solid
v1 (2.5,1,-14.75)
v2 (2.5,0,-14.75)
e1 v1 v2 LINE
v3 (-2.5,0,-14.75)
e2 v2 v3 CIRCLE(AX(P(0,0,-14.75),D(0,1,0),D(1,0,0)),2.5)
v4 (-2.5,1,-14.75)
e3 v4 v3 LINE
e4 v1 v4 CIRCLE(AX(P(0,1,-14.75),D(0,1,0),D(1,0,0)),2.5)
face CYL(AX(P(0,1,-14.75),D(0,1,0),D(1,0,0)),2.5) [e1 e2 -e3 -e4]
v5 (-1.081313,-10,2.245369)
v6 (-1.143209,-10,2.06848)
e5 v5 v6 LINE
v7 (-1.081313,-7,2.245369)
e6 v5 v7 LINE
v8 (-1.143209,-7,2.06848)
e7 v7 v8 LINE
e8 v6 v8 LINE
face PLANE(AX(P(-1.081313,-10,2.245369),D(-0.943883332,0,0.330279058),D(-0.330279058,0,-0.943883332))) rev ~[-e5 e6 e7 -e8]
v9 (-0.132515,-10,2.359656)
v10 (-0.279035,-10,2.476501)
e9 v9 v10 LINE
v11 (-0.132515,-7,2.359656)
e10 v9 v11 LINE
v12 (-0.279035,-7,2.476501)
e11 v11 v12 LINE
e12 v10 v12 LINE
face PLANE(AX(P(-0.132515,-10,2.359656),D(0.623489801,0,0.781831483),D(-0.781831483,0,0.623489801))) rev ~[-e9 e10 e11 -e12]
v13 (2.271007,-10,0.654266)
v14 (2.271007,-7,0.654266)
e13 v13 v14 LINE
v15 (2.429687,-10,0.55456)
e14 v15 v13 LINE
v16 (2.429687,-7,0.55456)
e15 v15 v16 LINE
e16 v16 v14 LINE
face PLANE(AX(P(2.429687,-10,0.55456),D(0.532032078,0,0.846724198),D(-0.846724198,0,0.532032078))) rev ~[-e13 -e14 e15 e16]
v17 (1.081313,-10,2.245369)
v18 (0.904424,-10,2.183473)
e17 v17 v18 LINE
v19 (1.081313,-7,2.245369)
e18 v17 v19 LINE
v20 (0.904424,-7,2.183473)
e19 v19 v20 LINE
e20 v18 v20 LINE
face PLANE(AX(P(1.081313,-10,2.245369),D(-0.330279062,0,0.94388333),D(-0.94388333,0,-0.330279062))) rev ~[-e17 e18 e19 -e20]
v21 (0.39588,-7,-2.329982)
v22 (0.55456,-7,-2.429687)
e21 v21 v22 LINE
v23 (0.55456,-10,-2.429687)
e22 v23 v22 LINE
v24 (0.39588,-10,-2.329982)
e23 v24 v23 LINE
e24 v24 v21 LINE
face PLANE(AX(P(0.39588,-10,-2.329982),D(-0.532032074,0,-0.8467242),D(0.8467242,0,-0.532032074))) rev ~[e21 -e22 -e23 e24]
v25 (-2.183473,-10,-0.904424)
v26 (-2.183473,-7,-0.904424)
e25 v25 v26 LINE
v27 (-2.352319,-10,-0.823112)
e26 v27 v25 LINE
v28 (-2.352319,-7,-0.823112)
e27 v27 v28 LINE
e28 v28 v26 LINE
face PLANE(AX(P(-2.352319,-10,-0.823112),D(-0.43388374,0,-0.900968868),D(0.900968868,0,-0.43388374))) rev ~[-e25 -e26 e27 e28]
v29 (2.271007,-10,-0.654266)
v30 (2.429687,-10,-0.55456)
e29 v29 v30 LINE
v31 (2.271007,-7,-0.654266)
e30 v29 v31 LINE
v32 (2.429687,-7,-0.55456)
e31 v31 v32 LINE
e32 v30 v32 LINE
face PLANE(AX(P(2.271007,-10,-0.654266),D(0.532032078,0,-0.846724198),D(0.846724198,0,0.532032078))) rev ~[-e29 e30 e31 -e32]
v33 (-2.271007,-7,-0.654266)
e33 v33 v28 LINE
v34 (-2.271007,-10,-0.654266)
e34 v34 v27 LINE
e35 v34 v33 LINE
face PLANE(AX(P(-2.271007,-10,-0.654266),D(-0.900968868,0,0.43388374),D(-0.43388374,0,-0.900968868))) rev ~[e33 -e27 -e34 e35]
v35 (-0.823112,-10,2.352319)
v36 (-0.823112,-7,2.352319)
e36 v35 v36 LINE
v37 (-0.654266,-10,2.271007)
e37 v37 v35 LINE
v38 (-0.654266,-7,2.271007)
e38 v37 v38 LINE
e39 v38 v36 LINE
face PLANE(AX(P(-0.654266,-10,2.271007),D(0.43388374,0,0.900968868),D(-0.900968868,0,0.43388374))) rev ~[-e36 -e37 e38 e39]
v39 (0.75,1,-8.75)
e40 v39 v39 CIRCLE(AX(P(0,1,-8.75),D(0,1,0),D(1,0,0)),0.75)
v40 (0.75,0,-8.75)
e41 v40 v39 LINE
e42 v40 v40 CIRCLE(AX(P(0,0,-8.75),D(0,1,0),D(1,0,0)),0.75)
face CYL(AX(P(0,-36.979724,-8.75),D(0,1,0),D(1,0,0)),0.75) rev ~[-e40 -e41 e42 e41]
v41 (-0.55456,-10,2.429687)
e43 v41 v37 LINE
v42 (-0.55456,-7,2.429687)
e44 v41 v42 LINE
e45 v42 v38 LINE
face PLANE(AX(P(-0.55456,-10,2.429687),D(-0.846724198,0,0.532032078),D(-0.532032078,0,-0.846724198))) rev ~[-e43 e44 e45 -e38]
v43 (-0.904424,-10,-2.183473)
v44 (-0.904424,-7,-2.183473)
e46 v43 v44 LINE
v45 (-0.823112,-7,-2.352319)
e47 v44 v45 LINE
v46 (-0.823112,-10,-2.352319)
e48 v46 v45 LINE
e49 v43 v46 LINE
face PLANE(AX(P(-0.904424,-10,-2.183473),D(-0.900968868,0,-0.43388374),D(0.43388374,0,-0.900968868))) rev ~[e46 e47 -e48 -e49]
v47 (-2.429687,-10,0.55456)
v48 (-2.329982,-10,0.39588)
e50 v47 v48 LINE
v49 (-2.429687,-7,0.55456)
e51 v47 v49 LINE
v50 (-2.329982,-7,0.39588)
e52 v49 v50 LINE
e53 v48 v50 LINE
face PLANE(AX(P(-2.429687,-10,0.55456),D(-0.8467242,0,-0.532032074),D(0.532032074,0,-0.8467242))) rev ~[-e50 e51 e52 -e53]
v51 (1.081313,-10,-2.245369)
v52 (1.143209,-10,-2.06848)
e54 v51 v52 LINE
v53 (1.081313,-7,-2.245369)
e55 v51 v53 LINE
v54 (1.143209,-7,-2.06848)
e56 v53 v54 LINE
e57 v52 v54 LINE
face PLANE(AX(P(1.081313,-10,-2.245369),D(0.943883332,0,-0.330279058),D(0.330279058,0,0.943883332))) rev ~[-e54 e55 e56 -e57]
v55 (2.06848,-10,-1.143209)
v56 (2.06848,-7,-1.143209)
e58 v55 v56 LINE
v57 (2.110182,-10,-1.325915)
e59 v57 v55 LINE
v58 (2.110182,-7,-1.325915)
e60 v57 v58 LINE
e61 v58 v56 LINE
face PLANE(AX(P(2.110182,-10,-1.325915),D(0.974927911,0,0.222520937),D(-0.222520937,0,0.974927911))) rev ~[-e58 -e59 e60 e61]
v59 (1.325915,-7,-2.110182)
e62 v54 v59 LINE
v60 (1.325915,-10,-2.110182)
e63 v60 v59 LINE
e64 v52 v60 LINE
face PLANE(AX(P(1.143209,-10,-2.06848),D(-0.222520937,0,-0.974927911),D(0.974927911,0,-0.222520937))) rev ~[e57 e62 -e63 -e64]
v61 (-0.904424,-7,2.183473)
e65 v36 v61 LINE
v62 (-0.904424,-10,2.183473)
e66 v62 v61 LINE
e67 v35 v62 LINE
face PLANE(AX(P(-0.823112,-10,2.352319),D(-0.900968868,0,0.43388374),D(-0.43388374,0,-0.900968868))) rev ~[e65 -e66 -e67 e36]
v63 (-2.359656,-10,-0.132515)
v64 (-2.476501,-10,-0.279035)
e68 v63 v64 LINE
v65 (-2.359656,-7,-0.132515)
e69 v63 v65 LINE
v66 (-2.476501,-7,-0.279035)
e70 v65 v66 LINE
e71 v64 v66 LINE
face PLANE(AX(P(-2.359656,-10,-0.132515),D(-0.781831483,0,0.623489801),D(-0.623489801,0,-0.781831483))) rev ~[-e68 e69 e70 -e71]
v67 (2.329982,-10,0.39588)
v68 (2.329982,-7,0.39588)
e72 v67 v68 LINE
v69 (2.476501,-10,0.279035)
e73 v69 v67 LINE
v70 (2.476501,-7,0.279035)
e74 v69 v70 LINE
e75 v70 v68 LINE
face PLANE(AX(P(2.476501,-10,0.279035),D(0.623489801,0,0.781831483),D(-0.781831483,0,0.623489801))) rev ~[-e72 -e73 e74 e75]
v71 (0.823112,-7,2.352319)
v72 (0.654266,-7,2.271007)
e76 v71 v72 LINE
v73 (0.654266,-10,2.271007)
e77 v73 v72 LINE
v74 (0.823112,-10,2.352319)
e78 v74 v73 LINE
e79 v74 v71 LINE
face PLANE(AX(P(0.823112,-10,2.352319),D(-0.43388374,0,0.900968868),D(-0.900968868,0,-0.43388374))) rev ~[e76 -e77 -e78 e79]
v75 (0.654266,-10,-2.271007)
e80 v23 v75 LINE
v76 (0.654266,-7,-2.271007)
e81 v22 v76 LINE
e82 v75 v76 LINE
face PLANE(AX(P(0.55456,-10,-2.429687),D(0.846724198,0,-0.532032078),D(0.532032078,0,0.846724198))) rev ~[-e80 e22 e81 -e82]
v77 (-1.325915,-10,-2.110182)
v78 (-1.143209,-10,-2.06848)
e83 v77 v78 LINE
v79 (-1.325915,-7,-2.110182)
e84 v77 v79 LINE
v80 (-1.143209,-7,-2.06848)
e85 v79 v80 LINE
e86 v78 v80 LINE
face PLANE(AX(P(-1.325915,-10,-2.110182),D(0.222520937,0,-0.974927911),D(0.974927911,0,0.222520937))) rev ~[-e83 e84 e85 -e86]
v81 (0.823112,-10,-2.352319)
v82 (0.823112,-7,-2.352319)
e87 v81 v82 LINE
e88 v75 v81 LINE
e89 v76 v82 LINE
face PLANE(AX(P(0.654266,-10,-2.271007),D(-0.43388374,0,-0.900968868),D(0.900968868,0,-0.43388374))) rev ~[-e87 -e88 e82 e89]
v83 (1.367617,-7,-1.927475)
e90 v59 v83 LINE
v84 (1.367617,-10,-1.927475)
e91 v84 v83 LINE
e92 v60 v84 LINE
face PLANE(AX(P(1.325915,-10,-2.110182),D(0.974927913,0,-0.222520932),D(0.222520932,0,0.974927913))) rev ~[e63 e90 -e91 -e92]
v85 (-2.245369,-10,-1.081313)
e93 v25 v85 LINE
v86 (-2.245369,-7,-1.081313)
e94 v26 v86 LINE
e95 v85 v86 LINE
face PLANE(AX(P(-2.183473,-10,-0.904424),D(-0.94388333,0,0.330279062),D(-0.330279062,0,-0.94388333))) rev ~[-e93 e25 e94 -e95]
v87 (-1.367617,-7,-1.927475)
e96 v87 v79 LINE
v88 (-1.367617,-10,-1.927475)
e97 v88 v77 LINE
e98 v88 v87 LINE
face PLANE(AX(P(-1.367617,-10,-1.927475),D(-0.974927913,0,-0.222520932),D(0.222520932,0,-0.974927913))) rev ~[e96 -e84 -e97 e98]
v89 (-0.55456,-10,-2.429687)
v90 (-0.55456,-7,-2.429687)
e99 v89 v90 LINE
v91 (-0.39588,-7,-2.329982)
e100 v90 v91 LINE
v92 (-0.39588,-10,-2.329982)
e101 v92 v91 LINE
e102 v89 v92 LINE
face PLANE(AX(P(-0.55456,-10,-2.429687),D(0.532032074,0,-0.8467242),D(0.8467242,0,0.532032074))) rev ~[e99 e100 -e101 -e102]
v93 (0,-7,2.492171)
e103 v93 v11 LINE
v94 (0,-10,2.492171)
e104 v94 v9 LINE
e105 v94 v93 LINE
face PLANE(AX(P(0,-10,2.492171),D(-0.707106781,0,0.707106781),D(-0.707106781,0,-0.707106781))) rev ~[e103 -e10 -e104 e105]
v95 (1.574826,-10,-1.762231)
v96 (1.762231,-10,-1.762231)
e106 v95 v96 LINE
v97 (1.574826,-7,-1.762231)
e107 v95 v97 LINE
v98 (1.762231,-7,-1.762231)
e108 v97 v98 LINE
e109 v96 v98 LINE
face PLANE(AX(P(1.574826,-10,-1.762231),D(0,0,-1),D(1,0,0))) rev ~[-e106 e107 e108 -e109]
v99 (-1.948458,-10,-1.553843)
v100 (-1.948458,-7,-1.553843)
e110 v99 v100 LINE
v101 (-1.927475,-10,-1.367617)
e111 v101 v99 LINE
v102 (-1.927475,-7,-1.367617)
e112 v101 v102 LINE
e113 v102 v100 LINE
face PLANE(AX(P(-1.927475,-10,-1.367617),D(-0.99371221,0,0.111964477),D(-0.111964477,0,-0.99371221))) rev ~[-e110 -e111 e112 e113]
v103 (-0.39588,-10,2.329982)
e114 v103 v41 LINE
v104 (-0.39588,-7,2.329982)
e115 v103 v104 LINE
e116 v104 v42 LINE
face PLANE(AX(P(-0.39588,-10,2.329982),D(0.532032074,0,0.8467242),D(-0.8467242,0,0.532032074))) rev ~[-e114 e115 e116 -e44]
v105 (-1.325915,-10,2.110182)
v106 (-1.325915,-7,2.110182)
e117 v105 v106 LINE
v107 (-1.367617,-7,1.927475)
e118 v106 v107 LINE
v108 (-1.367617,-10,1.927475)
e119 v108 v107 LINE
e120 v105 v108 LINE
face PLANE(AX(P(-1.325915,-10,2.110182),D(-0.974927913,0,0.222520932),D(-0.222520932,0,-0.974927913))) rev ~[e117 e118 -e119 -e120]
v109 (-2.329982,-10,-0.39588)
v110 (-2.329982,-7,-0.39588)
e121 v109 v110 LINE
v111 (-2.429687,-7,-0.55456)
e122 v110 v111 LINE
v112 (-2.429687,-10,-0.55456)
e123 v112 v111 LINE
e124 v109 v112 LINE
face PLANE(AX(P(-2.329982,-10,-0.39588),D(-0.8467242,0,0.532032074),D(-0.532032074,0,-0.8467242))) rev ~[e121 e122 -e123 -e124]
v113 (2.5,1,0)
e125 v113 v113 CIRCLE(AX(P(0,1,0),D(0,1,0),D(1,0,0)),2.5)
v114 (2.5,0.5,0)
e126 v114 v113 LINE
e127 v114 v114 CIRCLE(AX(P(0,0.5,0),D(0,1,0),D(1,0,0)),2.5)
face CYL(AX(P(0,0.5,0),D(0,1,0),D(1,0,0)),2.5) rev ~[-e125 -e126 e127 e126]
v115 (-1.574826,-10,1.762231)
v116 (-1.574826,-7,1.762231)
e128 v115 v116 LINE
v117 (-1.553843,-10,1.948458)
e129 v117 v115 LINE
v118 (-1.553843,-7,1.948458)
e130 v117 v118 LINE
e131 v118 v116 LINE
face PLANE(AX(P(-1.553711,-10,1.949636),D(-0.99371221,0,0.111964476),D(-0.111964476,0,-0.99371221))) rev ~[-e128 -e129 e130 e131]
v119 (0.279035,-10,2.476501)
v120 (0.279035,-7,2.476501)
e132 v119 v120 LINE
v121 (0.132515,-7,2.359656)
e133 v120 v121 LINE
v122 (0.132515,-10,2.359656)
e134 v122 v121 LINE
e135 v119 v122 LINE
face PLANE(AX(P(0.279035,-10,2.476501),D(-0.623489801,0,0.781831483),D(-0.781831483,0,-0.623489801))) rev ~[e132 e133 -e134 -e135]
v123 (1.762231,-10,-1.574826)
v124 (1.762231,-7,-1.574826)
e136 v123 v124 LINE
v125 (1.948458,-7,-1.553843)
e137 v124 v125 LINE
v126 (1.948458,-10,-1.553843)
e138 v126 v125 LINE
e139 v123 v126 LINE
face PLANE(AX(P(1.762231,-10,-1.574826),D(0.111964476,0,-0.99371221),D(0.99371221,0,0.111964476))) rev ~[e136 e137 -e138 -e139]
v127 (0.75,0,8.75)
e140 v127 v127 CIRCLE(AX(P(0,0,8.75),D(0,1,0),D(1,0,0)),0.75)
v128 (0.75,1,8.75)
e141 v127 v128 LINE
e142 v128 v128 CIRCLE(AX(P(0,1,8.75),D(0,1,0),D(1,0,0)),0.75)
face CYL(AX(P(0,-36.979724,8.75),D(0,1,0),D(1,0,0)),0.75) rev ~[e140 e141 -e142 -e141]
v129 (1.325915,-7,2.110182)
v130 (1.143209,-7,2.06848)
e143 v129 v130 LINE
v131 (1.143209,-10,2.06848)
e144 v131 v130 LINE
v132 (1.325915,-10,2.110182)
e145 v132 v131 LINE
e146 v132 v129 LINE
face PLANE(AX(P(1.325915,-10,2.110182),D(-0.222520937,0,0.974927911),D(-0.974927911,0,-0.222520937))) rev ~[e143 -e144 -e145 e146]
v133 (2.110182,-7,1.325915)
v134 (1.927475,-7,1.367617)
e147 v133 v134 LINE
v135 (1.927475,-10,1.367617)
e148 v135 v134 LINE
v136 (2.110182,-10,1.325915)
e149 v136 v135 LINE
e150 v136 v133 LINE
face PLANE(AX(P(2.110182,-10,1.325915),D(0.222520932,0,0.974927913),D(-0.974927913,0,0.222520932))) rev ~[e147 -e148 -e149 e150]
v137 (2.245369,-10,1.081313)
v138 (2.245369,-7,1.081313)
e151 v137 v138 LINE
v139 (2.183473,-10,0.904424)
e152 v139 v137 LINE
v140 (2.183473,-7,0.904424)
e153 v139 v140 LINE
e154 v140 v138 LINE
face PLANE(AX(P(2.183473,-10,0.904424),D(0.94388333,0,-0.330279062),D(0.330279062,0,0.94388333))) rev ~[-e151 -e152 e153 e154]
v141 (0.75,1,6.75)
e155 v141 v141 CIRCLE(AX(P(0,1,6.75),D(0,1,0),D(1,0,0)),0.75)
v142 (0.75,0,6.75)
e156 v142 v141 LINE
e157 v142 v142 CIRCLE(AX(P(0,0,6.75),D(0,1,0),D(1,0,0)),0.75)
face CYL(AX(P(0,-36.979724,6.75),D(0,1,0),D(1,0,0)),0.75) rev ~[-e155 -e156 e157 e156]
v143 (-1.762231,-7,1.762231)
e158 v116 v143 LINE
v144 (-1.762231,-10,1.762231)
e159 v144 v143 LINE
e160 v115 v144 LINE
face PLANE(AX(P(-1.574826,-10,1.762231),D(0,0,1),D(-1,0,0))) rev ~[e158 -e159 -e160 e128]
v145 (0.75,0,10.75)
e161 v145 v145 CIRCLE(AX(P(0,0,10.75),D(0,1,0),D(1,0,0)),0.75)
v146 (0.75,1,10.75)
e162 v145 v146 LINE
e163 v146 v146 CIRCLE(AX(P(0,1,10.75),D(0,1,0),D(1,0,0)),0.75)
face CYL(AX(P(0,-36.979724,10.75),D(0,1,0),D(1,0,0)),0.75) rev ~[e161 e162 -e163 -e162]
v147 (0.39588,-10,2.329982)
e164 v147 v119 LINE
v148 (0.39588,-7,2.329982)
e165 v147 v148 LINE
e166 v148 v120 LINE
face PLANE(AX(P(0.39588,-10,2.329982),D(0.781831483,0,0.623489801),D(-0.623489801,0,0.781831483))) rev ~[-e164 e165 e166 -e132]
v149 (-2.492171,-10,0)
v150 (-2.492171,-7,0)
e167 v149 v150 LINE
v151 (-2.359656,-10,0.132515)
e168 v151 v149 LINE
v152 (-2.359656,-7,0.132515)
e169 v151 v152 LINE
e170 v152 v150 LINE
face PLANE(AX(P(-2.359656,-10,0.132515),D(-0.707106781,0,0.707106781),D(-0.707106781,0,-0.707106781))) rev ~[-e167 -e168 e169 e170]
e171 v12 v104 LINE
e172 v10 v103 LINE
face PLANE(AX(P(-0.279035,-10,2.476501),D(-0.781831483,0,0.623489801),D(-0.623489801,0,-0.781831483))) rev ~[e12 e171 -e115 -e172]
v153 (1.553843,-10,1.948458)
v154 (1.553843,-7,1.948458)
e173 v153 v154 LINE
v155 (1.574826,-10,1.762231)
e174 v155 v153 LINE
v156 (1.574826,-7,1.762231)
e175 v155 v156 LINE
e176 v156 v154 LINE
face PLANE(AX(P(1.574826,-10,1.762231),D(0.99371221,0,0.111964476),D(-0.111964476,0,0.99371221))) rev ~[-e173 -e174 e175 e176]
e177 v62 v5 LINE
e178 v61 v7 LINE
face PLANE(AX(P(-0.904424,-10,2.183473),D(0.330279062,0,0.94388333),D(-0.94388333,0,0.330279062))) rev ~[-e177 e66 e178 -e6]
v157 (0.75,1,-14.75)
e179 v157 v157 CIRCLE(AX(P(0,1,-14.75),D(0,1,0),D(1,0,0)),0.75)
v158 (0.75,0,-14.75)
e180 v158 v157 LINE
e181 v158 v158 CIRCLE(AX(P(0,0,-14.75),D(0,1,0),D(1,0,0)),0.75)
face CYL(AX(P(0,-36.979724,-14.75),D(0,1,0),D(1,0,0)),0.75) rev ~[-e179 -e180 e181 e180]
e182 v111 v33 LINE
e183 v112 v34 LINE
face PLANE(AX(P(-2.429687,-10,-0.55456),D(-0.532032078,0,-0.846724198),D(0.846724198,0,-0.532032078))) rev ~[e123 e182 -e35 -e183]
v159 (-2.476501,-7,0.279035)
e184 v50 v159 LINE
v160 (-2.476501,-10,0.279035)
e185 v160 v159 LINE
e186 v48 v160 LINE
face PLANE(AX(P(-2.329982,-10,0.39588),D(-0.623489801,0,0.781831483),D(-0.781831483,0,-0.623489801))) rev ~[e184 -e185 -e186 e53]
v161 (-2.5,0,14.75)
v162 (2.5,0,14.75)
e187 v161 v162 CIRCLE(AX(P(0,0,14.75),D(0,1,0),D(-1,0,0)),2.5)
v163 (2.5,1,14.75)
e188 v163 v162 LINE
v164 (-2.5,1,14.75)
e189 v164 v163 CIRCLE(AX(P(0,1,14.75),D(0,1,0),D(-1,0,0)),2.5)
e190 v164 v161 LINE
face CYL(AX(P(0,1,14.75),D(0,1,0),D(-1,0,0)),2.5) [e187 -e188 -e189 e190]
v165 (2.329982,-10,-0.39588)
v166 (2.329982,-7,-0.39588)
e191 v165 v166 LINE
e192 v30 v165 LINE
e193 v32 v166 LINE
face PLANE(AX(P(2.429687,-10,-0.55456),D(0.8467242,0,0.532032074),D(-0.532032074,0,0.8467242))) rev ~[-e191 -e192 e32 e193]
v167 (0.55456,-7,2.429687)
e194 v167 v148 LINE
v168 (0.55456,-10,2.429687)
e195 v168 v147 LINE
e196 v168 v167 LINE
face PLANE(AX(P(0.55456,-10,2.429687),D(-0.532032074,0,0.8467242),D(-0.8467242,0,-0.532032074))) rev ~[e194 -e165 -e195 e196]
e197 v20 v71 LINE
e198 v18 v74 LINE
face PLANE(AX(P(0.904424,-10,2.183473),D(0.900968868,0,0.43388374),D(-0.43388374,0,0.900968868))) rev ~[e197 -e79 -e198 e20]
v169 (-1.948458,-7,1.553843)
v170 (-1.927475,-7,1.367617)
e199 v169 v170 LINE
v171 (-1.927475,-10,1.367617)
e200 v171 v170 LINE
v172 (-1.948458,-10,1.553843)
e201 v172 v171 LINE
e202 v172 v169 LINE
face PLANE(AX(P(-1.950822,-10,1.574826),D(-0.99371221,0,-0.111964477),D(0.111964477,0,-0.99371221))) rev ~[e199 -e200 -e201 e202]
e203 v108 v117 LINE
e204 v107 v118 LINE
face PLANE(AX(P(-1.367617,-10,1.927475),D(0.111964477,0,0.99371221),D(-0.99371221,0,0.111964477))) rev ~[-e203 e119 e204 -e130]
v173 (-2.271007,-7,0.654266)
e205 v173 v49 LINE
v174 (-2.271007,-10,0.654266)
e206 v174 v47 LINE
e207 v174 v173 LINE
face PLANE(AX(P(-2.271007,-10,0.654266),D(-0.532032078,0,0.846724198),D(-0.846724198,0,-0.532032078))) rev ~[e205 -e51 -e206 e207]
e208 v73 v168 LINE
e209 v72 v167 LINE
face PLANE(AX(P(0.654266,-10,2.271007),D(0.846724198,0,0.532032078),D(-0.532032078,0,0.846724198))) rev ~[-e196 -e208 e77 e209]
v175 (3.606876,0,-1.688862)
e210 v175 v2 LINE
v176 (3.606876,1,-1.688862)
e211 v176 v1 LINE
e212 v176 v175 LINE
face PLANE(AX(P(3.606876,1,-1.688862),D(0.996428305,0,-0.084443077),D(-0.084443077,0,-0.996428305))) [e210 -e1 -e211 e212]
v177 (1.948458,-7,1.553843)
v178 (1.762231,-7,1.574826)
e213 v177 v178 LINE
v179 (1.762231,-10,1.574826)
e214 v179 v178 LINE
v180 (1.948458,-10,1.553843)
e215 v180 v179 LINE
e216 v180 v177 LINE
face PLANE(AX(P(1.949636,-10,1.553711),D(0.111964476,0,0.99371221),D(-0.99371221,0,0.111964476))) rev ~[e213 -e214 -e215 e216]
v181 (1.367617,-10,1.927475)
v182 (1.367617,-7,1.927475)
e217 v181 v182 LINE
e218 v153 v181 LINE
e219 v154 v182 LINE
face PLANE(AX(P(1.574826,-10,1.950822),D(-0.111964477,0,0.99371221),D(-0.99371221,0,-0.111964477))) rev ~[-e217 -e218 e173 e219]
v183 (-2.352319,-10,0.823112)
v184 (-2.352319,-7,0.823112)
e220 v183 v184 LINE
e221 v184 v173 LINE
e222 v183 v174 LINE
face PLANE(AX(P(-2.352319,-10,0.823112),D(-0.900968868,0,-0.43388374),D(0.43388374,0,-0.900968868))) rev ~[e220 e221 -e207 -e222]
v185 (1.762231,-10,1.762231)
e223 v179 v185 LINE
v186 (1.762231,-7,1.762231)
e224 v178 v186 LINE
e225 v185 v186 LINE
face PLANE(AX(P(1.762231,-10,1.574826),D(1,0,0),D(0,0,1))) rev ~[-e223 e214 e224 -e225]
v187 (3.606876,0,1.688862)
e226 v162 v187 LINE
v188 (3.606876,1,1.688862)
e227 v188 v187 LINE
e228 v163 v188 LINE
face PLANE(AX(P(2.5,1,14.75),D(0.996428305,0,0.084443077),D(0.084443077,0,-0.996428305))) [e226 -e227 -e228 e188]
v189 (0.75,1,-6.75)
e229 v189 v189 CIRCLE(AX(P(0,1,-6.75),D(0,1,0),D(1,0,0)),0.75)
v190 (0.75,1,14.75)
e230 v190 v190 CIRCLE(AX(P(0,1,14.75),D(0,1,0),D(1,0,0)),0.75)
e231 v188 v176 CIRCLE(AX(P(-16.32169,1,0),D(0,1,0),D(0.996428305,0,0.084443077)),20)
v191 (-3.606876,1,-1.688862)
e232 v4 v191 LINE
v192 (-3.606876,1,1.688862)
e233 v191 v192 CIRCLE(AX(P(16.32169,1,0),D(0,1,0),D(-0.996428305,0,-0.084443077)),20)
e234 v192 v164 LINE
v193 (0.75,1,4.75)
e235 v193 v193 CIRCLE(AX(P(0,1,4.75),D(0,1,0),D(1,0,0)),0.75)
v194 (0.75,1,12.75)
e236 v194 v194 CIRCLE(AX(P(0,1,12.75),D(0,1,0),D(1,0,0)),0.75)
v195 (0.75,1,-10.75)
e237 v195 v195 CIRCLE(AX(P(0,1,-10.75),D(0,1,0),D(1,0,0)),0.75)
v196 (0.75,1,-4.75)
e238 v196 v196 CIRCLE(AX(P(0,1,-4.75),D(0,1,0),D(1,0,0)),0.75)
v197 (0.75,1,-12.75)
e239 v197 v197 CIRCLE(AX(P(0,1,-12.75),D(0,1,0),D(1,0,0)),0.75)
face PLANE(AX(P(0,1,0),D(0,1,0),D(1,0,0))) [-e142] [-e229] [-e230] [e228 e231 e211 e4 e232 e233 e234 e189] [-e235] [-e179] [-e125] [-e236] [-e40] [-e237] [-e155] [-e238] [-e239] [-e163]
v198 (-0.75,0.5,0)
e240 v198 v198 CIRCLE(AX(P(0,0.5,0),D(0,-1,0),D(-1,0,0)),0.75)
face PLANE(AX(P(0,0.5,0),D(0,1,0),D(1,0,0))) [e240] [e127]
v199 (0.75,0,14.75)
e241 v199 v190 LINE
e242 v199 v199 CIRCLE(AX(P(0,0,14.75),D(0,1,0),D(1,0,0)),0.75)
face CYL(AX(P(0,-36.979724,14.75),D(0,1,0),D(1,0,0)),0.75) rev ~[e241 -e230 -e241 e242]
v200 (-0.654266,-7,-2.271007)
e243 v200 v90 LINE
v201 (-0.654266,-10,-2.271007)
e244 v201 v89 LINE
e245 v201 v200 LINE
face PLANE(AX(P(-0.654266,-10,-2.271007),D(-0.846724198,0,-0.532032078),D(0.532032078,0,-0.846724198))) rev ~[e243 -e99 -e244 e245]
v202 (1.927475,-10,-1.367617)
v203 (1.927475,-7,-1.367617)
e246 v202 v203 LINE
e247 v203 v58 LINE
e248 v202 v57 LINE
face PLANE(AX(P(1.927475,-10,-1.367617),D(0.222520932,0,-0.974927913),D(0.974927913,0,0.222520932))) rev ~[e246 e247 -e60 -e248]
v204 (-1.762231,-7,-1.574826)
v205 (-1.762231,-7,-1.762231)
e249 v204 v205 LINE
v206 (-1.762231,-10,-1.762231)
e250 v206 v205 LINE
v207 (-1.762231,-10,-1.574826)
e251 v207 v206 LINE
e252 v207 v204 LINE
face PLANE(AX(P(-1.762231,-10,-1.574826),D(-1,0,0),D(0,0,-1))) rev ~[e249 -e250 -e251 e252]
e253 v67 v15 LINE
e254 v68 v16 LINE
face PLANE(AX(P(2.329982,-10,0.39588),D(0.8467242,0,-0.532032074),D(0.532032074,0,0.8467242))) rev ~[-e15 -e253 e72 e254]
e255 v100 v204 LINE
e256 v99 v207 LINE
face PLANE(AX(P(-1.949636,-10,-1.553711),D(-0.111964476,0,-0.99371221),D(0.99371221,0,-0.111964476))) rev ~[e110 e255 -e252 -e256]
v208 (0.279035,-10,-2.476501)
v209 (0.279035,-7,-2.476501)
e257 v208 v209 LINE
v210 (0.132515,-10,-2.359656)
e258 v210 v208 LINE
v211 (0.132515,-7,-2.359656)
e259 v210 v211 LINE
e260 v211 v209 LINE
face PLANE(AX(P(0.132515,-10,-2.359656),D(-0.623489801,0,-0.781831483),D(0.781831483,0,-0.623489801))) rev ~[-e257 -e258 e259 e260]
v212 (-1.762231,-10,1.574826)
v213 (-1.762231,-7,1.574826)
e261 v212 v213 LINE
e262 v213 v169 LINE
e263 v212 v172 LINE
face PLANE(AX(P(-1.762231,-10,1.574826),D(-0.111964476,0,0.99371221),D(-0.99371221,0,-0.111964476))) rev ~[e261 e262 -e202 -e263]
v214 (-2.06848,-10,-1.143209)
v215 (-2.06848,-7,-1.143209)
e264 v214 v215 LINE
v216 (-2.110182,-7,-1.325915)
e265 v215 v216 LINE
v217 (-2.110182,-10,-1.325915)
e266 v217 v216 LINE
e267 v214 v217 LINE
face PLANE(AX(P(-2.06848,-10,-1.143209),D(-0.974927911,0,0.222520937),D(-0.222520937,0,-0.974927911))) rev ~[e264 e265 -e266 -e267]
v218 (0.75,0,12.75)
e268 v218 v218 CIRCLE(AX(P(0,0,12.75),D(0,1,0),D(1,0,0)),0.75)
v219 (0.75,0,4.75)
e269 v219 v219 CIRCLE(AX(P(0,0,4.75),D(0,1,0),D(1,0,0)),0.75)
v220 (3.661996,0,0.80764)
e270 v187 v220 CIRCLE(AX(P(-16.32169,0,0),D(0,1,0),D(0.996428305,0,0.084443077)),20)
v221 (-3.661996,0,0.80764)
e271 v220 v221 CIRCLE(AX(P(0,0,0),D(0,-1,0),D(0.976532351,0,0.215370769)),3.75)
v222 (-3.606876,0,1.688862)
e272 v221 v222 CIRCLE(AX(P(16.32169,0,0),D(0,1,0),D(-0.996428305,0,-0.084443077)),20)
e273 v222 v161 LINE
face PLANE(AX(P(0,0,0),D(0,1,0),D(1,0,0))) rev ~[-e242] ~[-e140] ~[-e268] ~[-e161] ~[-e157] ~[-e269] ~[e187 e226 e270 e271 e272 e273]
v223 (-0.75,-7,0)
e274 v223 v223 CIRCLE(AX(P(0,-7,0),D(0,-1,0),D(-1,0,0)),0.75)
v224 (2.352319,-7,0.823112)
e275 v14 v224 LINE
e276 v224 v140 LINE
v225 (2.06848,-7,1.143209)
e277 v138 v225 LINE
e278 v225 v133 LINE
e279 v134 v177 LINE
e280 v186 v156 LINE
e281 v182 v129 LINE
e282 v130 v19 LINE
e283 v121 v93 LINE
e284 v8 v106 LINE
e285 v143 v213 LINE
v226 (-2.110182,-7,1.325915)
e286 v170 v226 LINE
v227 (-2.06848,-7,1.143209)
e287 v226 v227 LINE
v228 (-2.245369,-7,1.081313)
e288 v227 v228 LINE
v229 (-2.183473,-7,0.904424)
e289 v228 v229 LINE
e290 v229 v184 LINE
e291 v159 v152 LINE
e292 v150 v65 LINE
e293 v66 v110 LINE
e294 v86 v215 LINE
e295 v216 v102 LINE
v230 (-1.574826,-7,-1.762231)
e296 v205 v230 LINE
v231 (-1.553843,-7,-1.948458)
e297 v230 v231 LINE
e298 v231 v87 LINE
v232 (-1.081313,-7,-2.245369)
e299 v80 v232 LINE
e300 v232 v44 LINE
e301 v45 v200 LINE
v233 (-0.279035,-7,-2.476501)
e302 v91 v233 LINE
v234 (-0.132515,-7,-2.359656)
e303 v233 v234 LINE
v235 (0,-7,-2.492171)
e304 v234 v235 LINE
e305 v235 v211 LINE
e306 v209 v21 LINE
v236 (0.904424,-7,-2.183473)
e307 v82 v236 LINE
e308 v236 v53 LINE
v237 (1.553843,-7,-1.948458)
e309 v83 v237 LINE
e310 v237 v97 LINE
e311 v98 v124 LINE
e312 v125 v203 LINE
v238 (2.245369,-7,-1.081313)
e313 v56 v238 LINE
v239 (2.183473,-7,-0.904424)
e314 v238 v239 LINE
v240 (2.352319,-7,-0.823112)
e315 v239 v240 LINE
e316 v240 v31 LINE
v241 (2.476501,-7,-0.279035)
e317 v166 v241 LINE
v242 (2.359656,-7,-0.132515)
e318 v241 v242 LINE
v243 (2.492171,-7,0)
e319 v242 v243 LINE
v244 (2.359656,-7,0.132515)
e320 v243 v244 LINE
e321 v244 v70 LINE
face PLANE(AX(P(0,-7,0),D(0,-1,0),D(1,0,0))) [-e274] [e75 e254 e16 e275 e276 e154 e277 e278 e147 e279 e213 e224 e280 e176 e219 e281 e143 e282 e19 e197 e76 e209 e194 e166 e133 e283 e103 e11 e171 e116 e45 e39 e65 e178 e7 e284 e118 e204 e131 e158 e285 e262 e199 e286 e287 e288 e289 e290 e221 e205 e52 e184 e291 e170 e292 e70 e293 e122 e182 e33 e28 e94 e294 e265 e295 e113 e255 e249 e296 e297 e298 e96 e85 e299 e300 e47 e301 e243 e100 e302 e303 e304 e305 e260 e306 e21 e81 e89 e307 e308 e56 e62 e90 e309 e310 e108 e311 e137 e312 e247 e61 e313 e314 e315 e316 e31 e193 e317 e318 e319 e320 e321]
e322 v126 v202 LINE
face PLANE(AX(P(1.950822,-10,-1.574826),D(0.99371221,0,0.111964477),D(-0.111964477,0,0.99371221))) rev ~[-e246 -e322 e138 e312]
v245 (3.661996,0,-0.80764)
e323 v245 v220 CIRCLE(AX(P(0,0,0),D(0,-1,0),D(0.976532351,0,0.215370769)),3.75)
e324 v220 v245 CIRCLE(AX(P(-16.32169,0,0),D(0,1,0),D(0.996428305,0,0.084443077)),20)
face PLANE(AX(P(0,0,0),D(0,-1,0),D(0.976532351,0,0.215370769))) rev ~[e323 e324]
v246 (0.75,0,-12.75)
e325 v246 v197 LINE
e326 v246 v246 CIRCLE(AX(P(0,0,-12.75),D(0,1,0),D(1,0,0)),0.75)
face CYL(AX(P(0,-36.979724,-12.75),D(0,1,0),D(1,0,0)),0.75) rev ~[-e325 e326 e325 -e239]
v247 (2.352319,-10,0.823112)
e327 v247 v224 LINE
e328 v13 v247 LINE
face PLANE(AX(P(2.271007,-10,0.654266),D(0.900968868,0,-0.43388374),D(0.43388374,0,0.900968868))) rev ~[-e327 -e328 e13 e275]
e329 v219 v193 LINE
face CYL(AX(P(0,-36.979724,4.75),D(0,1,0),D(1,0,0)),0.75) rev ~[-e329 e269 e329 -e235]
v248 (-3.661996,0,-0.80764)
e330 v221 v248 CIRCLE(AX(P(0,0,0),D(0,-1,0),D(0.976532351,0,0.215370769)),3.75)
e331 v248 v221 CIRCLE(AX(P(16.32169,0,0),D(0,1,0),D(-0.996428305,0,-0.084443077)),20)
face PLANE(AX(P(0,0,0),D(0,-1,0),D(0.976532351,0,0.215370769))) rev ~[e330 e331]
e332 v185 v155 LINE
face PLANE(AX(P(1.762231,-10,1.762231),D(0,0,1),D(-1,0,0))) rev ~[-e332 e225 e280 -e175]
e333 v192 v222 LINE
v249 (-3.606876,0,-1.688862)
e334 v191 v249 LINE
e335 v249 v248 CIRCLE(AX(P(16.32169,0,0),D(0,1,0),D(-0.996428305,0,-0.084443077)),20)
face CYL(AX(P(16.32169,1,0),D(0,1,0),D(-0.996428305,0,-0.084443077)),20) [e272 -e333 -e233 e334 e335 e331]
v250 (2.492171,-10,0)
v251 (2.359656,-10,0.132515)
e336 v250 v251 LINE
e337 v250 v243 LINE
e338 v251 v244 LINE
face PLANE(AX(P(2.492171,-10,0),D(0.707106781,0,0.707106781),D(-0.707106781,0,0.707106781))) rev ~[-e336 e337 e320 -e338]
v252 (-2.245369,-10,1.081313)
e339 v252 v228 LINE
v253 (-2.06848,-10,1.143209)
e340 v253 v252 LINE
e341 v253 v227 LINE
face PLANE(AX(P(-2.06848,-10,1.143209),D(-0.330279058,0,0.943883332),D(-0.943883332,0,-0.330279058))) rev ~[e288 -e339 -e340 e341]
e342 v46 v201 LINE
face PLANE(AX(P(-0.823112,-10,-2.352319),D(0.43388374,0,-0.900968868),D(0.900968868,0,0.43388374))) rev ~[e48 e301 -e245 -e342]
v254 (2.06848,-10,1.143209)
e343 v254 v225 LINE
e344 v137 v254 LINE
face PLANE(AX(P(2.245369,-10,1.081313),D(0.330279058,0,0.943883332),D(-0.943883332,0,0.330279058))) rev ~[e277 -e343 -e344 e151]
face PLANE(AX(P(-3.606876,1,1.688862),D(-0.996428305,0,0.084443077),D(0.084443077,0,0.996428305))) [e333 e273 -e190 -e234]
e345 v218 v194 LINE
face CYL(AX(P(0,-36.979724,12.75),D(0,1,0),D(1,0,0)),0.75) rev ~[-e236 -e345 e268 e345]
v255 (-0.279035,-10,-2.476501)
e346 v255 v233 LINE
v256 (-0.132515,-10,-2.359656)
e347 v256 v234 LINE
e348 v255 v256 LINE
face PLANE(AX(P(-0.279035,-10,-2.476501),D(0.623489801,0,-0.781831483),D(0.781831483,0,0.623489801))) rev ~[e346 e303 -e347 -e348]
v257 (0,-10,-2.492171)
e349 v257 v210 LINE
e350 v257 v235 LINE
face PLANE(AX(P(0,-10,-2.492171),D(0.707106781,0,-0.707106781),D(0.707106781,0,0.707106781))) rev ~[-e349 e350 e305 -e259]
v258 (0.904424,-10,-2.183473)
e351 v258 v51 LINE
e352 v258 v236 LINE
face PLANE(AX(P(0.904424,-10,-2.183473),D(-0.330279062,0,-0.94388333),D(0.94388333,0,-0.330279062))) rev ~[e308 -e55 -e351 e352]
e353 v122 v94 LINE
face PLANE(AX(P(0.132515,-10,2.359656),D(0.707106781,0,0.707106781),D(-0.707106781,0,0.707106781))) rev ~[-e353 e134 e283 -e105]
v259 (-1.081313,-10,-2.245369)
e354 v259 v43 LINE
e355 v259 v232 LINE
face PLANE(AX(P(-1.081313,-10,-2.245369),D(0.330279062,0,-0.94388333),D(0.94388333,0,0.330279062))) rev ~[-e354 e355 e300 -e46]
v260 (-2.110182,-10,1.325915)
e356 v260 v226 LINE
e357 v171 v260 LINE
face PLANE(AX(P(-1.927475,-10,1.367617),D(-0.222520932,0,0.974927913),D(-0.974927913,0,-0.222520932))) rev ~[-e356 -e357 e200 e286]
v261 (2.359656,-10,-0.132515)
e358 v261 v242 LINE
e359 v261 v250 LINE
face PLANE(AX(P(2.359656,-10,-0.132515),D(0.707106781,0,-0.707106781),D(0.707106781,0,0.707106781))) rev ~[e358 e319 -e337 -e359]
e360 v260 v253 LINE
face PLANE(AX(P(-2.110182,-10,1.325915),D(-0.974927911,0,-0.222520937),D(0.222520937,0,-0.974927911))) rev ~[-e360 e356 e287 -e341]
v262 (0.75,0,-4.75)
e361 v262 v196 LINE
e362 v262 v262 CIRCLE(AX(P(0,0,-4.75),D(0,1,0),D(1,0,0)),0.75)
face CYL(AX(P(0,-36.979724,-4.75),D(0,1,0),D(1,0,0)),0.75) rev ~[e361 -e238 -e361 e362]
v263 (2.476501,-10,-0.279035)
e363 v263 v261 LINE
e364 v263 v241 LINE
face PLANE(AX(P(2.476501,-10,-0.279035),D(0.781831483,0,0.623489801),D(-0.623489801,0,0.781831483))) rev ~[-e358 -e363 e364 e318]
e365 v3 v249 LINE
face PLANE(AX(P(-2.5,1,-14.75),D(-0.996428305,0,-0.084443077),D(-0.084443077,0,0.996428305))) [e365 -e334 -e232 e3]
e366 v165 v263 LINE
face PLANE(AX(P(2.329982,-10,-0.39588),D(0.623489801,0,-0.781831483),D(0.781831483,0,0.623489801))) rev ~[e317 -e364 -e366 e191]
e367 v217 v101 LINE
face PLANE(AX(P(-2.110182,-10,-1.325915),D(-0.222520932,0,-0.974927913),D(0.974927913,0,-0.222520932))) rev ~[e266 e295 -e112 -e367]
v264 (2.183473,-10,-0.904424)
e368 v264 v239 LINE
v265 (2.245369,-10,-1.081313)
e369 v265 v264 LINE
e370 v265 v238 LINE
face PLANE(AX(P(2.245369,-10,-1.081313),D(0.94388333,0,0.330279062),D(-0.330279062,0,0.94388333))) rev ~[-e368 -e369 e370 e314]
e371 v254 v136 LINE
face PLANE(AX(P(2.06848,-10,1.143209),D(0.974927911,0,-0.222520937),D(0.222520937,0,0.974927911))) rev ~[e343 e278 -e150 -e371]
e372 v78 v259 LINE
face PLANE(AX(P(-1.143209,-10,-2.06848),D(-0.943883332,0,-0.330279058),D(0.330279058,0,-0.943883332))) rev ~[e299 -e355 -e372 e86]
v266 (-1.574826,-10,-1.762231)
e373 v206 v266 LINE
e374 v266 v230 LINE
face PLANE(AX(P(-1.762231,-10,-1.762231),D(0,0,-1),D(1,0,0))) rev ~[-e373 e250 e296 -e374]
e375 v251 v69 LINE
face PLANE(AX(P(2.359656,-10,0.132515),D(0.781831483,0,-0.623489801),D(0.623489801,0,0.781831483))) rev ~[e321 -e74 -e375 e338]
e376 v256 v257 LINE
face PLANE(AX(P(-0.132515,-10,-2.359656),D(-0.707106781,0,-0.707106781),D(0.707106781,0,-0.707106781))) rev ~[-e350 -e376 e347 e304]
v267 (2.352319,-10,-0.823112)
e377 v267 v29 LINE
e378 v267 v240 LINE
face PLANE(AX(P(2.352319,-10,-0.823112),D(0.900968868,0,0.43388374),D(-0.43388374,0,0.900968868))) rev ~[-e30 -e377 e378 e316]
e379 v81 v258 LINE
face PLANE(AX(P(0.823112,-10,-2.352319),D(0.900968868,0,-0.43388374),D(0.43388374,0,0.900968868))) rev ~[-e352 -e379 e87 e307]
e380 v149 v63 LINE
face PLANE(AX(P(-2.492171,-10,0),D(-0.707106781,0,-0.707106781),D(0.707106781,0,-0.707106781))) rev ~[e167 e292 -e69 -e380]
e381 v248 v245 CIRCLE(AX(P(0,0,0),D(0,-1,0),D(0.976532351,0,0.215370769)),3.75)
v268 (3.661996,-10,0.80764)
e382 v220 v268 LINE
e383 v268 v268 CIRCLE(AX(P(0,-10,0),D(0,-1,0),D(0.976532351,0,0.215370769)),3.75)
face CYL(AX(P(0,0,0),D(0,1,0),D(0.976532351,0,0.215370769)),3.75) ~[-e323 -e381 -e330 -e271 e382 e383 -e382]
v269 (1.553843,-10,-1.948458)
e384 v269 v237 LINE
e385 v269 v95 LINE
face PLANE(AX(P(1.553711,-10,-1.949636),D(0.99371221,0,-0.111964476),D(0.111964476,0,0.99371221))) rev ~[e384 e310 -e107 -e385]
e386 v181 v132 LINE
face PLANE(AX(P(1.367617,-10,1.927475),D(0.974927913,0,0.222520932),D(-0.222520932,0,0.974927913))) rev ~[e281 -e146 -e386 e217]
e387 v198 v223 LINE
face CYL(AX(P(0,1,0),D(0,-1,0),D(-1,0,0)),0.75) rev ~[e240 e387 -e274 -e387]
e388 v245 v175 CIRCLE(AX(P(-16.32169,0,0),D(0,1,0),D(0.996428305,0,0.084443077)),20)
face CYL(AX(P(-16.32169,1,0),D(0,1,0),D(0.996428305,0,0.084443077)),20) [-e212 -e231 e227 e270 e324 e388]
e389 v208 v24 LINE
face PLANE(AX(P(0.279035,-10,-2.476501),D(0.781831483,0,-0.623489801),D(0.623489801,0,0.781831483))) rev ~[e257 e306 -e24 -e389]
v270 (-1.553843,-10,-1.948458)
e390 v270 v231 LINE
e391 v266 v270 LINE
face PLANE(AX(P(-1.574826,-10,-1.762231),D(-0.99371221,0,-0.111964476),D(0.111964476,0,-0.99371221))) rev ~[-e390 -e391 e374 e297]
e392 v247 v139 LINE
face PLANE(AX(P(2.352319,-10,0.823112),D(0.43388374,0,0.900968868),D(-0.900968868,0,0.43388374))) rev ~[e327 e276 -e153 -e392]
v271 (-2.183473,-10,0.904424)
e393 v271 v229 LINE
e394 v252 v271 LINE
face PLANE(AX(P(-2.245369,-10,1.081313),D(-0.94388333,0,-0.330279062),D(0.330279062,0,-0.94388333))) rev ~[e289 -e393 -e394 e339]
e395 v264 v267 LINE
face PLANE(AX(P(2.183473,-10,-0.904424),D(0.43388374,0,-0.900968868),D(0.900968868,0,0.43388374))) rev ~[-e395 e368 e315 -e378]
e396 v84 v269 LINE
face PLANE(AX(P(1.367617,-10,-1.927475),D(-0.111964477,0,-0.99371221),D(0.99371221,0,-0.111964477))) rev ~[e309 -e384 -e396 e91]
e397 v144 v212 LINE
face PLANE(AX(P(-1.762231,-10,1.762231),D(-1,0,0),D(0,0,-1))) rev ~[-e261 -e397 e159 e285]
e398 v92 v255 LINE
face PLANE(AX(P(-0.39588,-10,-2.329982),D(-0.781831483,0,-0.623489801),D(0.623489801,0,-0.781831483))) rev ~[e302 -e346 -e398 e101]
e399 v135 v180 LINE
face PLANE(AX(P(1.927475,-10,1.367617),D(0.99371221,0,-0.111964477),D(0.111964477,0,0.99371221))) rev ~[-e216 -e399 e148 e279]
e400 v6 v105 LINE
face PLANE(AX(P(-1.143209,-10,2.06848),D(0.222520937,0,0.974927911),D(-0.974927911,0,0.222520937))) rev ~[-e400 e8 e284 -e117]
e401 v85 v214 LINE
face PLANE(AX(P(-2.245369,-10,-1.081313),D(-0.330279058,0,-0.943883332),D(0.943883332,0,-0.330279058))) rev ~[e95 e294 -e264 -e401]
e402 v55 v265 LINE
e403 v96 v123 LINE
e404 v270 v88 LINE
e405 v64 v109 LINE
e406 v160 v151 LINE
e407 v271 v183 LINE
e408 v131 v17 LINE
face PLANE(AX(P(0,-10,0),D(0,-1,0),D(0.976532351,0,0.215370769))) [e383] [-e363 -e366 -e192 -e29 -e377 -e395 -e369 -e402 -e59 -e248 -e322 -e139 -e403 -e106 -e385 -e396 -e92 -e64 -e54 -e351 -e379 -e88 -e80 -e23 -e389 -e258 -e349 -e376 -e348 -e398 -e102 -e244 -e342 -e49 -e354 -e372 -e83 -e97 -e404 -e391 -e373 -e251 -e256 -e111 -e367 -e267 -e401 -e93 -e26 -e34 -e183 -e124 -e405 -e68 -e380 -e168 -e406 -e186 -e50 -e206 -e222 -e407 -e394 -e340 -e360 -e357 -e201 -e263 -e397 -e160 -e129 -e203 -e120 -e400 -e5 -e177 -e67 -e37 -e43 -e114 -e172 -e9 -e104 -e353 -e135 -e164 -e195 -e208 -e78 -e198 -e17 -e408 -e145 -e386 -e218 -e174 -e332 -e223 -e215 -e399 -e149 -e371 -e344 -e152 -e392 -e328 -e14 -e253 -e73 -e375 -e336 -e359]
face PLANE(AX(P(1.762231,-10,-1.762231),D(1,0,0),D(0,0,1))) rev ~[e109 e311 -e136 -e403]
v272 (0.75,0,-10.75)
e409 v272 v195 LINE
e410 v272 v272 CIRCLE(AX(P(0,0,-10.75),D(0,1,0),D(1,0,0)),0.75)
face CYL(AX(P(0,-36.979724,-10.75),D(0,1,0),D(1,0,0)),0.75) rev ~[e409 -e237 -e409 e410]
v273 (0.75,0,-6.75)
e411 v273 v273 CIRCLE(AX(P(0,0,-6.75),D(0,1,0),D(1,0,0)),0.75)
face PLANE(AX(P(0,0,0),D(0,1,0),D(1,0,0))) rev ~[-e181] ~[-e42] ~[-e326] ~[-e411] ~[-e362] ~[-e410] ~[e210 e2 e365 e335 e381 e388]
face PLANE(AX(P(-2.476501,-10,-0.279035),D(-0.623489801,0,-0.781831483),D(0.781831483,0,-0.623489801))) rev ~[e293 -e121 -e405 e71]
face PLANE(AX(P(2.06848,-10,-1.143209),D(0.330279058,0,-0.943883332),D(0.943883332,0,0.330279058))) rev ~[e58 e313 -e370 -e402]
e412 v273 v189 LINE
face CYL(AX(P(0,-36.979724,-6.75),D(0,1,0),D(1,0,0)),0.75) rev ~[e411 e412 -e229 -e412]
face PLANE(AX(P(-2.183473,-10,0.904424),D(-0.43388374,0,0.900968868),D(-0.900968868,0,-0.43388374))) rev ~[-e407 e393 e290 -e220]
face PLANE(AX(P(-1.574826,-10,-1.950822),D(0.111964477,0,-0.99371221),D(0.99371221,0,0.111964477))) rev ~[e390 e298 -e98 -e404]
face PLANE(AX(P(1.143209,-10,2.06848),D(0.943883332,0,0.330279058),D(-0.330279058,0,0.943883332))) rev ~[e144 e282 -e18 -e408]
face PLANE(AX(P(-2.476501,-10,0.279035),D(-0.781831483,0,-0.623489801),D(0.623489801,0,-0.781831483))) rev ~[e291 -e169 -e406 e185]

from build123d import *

# Parameters (mm, degrees)
BOSS_EXTRUDE1_DEPTH             = 1
SKETCH2_R                       = 3.75
BOSS_EXTRUDE2_DEPTH             = 10
CUT_EXTRUDE1_DEPTH              = 3
DRAFT1_ANGLE                    = 6.428571429
DRAFT2_ANGLE                    = 6.428571429
DRAFT3_ANGLE                    = 6.428571429
DRAFT4_ANGLE                    = 6.428571429
DRAFT5_ANGLE                    = 6.428571429
DRAFT6_ANGLE                    = 6.428571429
DRAFT7_ANGLE                    = 6.428571429
DRAFT8_ANGLE                    = 6.428571429
F_1_5_1_5_DIAMETER_HOLE1_D      = 1.5
M5X0_8_TAPPED_HOLE1_D           = 1.5
M5X0_8_TAPPED_HOLE1_DEPTH       = 11
M5X0_8_TAPPED_HOLE1_CBORE_D     = 5
M5X0_8_TAPPED_HOLE1_CBORE_DEPTH = 0.5


with BuildPart() as part:
    # Sketch1 → Boss-Extrude1 (new body)
    with BuildSketch(Plane(origin=(0, 1, 0), x_dir=(1, 0, 0), z_dir=(0, 1, 0))):
        with BuildLine():
            Line((-2.5, 14.75), (-3.606876141, 1.688861534))
            ThreePointArc((-3.606876141, 1.688861534), (-3.678310043, 0), (-3.606876141, -1.688861534))
            Line((-3.606876141, -1.688861534), (-2.5, -14.75))
            ThreePointArc((-2.5, -14.75), (0, -17.25), (2.5, -14.75))
            Line((2.5, -14.75), (3.606876141, -1.688861534))
            ThreePointArc((3.606876141, -1.688861534), (3.678310043, 0), (3.606876141, 1.688861534))
            Line((3.606876141, 1.688861534), (2.5, 14.75))
            ThreePointArc((2.5, 14.75), (0, 17.25), (-2.5, 14.75))
        make_face()
    extrude(amount=-BOSS_EXTRUDE1_DEPTH)

    # Sketch2 → Boss-Extrude2 (add)
    with BuildSketch(Plane.XZ):
        with Locations(Location((0, 0, 0), (0, 0, 12.437280395))):
            Circle(SKETCH2_R)
    extrude(amount=BOSS_EXTRUDE2_DEPTH)

    # Sketch3 → Cut-Extrude1 (cut)
    with BuildSketch(Plane.XZ.offset(10)):
        Polygon((0.132515428, 2.359655809), (0, 2.492171237), (-0.132515428, 2.359655809), (-0.279034647, 2.476500987), (-0.395879825, 2.329981768), (-0.554560271, 2.4296873), (-0.654265804, 2.271006854), (-0.823111978, 2.352318886), (-0.90442401, 2.183472712), (-1.081312575, 2.245368698), (-1.14320856, 2.068480133), (-1.325915038, 2.110181695), (-1.367616599, 1.927475217), (-1.574826066, 1.950822117), (-1.574826066, 1.762231181), (-1.762231181, 1.762231181), (-1.762231181, 1.574826066), (-1.950822117, 1.574826066), (-1.927475217, 1.367616599), (-2.110181695, 1.325915038), (-2.068480133, 1.14320856), (-2.245368698, 1.081312575), (-2.183472712, 0.90442401), (-2.352318886, 0.823111978), (-2.271006854, 0.654265804), (-2.4296873, 0.554560271), (-2.329981768, 0.395879825), (-2.476500987, 0.279034647), (-2.359655809, 0.132515428), (-2.492171237, 0), (-2.359655809, -0.132515428), (-2.476500987, -0.279034647), (-2.329981768, -0.395879825), (-2.4296873, -0.554560271), (-2.271006854, -0.654265804), (-2.352318886, -0.823111978), (-2.183472712, -0.90442401), (-2.245368698, -1.081312575), (-2.068480133, -1.14320856), (-2.110181695, -1.325915038), (-1.927475217, -1.367616599), (-1.950822117, -1.574826066), (-1.762231181, -1.574826066), (-1.762231181, -1.762231181), (-1.574826066, -1.762231181), (-1.574826066, -1.950822117), (-1.367616599, -1.927475217), (-1.325915038, -2.110181695), (-1.14320856, -2.068480133), (-1.081312575, -2.245368698), (-0.90442401, -2.183472712), (-0.823111978, -2.352318886), (-0.654265804, -2.271006854), (-0.554560271, -2.4296873), (-0.395879825, -2.329981768), (-0.279034647, -2.476500987), (-0.132515428, -2.359655809), (0, -2.492171237), (0.132515428, -2.359655809), (0.279034647, -2.476500987), (0.395879825, -2.329981768), (0.554560271, -2.4296873), (0.654265804, -2.271006854), (0.823111978, -2.352318886), (0.90442401, -2.183472712), (1.081312575, -2.245368698), (1.14320856, -2.068480133), (1.325915038, -2.110181695), (1.367616599, -1.927475217), (1.574826066, -1.950822117), (1.574826066, -1.762231181), (1.762231181, -1.762231181), (1.762231181, -1.574826066), (1.950822117, -1.574826066), (1.927475217, -1.367616599), (2.110181695, -1.325915038), (2.068480133, -1.14320856), (2.245368698, -1.081312575), (2.183472712, -0.90442401), (2.352318886, -0.823111978), (2.271006854, -0.654265804), (2.4296873, -0.554560271), (2.329981768, -0.395879825), (2.476500987, -0.279034647), (2.359655809, -0.132515428), (2.492171237, 0), (2.359655809, 0.132515428), (2.476500987, 0.279034647), (2.329981768, 0.395879825), (2.4296873, 0.554560271), (2.271006854, 0.654265804), (2.352318886, 0.823111978), (2.183472712, 0.90442401), (2.245368698, 1.081312575), (2.068480133, 1.14320856), (2.110181695, 1.325915038), (1.927475217, 1.367616599), (1.950822117, 1.574826066), (1.762231181, 1.574826066), (1.762231181, 1.762231181), (1.574826066, 1.762231181), (1.574826066, 1.950822117), (1.367616599, 1.927475217), (1.325915038, 2.110181695), (1.14320856, 2.068480133), (1.081312575, 2.245368698), (0.90442401, 2.183472712), (0.823111978, 2.352318886), (0.654265804, 2.271006854), (0.554560271, 2.4296873), (0.395879825, 2.329981768), (0.279034647, 2.476500987), align=None)
    extrude(amount=-CUT_EXTRUDE1_DEPTH, mode=Mode.SUBTRACT)

    # Draft1
    draft1_faces = [part.faces().sort_by_distance(p)[0] for p in [
        (1.856526649, -8.5, 1.574826066),
    ]]
    draft(draft1_faces, Plane(origin=(1.762231181, -7, 1.574826066), x_dir=(0, 0, -1), z_dir=(-1, 0, 0)), DRAFT1_ANGLE)

    # Draft2
    draft2_faces = [part.faces().sort_by_distance(p)[0] for p in [
        (1.574826066, -8.5, 1.856526649),
    ]]
    draft(draft2_faces, Plane(origin=(1.762231181, -7, 1.762231181), x_dir=(-1, 0, 0), z_dir=(0, 0, -1)), DRAFT2_ANGLE)

    # Draft3
    draft3_faces = [part.faces().sort_by_distance(p)[0] for p in [
        (1.574826066, -8.5, -1.856526649),
    ]]
    draft(draft3_faces, Plane(origin=(1.574826066, -7, -1.762231181), x_dir=(1, 0, 0), z_dir=(0, 0, 1)), DRAFT3_ANGLE)

    # Draft4
    draft4_faces = [part.faces().sort_by_distance(p)[0] for p in [
        (1.856526649, -8.5, -1.574826066),
    ]]
    draft(draft4_faces, Plane(origin=(1.762231181, -7, -1.762231181), x_dir=(0, 0, -1), z_dir=(-1, 0, 0)), DRAFT4_ANGLE)

    # Draft5
    draft5_faces = [part.faces().sort_by_distance(p)[0] for p in [
        (-1.856526649, -8.5, -1.574826066),
    ]]
    draft(draft5_faces, Plane(origin=(-1.762231181, -7, -1.574826066), x_dir=(0, 0, 1), z_dir=(1, 0, 0)), DRAFT5_ANGLE)

    # Draft6
    draft6_faces = [part.faces().sort_by_distance(p)[0] for p in [
        (-1.574826066, -8.5, -1.856526649),
    ]]
    draft(draft6_faces, Plane(origin=(-1.762231181, -7, -1.762231181), x_dir=(1, 0, 0), z_dir=(0, 0, 1)), DRAFT6_ANGLE)

    # Draft7
    draft7_faces = [part.faces().sort_by_distance(p)[0] for p in [
        (-1.574826066, -8.5, 1.856526649),
    ]]
    draft(draft7_faces, Plane(origin=(-1.574826066, -7, 1.762231181), x_dir=(-1, 0, 0), z_dir=(0, 0, -1)), DRAFT7_ANGLE)

    # Draft8
    draft8_faces = [part.faces().sort_by_distance(p)[0] for p in [
        (-1.856526649, -8.5, 1.574826066),
    ]]
    draft(draft8_faces, Plane(origin=(-1.762231181, -7, 1.762231181), x_dir=(0, 0, 1), z_dir=(1, 0, 0)), DRAFT8_ANGLE)

    # Ø1.5 (1.5) Diameter Hole1 (through all)
    with Locations(Plane(origin=(0, 0, 0), x_dir=(-1, 0, 0), z_dir=(0, -1, 0))):
        with Locations((0, 14.75), (0, 12.75), (0, 10.75), (0, 8.75), (0, 6.75), (0, 4.75), (0, -4.75), (0, -6.75), (0, -8.75), (0, -10.75), (0, -12.75), (0, -14.75)):
            Hole(F_1_5_1_5_DIAMETER_HOLE1_D / 2)

    # M5x0.8 Tapped Hole1
    with Locations(Plane(origin=(0, 1, 0), x_dir=(1, 0, 0), z_dir=(0, 1, 0))):
        with Locations((0, 0)):
            CounterBoreHole(M5X0_8_TAPPED_HOLE1_D / 2, M5X0_8_TAPPED_HOLE1_CBORE_D / 2, M5X0_8_TAPPED_HOLE1_CBORE_DEPTH, depth=M5X0_8_TAPPED_HOLE1_DEPTH)


solid = part.part
